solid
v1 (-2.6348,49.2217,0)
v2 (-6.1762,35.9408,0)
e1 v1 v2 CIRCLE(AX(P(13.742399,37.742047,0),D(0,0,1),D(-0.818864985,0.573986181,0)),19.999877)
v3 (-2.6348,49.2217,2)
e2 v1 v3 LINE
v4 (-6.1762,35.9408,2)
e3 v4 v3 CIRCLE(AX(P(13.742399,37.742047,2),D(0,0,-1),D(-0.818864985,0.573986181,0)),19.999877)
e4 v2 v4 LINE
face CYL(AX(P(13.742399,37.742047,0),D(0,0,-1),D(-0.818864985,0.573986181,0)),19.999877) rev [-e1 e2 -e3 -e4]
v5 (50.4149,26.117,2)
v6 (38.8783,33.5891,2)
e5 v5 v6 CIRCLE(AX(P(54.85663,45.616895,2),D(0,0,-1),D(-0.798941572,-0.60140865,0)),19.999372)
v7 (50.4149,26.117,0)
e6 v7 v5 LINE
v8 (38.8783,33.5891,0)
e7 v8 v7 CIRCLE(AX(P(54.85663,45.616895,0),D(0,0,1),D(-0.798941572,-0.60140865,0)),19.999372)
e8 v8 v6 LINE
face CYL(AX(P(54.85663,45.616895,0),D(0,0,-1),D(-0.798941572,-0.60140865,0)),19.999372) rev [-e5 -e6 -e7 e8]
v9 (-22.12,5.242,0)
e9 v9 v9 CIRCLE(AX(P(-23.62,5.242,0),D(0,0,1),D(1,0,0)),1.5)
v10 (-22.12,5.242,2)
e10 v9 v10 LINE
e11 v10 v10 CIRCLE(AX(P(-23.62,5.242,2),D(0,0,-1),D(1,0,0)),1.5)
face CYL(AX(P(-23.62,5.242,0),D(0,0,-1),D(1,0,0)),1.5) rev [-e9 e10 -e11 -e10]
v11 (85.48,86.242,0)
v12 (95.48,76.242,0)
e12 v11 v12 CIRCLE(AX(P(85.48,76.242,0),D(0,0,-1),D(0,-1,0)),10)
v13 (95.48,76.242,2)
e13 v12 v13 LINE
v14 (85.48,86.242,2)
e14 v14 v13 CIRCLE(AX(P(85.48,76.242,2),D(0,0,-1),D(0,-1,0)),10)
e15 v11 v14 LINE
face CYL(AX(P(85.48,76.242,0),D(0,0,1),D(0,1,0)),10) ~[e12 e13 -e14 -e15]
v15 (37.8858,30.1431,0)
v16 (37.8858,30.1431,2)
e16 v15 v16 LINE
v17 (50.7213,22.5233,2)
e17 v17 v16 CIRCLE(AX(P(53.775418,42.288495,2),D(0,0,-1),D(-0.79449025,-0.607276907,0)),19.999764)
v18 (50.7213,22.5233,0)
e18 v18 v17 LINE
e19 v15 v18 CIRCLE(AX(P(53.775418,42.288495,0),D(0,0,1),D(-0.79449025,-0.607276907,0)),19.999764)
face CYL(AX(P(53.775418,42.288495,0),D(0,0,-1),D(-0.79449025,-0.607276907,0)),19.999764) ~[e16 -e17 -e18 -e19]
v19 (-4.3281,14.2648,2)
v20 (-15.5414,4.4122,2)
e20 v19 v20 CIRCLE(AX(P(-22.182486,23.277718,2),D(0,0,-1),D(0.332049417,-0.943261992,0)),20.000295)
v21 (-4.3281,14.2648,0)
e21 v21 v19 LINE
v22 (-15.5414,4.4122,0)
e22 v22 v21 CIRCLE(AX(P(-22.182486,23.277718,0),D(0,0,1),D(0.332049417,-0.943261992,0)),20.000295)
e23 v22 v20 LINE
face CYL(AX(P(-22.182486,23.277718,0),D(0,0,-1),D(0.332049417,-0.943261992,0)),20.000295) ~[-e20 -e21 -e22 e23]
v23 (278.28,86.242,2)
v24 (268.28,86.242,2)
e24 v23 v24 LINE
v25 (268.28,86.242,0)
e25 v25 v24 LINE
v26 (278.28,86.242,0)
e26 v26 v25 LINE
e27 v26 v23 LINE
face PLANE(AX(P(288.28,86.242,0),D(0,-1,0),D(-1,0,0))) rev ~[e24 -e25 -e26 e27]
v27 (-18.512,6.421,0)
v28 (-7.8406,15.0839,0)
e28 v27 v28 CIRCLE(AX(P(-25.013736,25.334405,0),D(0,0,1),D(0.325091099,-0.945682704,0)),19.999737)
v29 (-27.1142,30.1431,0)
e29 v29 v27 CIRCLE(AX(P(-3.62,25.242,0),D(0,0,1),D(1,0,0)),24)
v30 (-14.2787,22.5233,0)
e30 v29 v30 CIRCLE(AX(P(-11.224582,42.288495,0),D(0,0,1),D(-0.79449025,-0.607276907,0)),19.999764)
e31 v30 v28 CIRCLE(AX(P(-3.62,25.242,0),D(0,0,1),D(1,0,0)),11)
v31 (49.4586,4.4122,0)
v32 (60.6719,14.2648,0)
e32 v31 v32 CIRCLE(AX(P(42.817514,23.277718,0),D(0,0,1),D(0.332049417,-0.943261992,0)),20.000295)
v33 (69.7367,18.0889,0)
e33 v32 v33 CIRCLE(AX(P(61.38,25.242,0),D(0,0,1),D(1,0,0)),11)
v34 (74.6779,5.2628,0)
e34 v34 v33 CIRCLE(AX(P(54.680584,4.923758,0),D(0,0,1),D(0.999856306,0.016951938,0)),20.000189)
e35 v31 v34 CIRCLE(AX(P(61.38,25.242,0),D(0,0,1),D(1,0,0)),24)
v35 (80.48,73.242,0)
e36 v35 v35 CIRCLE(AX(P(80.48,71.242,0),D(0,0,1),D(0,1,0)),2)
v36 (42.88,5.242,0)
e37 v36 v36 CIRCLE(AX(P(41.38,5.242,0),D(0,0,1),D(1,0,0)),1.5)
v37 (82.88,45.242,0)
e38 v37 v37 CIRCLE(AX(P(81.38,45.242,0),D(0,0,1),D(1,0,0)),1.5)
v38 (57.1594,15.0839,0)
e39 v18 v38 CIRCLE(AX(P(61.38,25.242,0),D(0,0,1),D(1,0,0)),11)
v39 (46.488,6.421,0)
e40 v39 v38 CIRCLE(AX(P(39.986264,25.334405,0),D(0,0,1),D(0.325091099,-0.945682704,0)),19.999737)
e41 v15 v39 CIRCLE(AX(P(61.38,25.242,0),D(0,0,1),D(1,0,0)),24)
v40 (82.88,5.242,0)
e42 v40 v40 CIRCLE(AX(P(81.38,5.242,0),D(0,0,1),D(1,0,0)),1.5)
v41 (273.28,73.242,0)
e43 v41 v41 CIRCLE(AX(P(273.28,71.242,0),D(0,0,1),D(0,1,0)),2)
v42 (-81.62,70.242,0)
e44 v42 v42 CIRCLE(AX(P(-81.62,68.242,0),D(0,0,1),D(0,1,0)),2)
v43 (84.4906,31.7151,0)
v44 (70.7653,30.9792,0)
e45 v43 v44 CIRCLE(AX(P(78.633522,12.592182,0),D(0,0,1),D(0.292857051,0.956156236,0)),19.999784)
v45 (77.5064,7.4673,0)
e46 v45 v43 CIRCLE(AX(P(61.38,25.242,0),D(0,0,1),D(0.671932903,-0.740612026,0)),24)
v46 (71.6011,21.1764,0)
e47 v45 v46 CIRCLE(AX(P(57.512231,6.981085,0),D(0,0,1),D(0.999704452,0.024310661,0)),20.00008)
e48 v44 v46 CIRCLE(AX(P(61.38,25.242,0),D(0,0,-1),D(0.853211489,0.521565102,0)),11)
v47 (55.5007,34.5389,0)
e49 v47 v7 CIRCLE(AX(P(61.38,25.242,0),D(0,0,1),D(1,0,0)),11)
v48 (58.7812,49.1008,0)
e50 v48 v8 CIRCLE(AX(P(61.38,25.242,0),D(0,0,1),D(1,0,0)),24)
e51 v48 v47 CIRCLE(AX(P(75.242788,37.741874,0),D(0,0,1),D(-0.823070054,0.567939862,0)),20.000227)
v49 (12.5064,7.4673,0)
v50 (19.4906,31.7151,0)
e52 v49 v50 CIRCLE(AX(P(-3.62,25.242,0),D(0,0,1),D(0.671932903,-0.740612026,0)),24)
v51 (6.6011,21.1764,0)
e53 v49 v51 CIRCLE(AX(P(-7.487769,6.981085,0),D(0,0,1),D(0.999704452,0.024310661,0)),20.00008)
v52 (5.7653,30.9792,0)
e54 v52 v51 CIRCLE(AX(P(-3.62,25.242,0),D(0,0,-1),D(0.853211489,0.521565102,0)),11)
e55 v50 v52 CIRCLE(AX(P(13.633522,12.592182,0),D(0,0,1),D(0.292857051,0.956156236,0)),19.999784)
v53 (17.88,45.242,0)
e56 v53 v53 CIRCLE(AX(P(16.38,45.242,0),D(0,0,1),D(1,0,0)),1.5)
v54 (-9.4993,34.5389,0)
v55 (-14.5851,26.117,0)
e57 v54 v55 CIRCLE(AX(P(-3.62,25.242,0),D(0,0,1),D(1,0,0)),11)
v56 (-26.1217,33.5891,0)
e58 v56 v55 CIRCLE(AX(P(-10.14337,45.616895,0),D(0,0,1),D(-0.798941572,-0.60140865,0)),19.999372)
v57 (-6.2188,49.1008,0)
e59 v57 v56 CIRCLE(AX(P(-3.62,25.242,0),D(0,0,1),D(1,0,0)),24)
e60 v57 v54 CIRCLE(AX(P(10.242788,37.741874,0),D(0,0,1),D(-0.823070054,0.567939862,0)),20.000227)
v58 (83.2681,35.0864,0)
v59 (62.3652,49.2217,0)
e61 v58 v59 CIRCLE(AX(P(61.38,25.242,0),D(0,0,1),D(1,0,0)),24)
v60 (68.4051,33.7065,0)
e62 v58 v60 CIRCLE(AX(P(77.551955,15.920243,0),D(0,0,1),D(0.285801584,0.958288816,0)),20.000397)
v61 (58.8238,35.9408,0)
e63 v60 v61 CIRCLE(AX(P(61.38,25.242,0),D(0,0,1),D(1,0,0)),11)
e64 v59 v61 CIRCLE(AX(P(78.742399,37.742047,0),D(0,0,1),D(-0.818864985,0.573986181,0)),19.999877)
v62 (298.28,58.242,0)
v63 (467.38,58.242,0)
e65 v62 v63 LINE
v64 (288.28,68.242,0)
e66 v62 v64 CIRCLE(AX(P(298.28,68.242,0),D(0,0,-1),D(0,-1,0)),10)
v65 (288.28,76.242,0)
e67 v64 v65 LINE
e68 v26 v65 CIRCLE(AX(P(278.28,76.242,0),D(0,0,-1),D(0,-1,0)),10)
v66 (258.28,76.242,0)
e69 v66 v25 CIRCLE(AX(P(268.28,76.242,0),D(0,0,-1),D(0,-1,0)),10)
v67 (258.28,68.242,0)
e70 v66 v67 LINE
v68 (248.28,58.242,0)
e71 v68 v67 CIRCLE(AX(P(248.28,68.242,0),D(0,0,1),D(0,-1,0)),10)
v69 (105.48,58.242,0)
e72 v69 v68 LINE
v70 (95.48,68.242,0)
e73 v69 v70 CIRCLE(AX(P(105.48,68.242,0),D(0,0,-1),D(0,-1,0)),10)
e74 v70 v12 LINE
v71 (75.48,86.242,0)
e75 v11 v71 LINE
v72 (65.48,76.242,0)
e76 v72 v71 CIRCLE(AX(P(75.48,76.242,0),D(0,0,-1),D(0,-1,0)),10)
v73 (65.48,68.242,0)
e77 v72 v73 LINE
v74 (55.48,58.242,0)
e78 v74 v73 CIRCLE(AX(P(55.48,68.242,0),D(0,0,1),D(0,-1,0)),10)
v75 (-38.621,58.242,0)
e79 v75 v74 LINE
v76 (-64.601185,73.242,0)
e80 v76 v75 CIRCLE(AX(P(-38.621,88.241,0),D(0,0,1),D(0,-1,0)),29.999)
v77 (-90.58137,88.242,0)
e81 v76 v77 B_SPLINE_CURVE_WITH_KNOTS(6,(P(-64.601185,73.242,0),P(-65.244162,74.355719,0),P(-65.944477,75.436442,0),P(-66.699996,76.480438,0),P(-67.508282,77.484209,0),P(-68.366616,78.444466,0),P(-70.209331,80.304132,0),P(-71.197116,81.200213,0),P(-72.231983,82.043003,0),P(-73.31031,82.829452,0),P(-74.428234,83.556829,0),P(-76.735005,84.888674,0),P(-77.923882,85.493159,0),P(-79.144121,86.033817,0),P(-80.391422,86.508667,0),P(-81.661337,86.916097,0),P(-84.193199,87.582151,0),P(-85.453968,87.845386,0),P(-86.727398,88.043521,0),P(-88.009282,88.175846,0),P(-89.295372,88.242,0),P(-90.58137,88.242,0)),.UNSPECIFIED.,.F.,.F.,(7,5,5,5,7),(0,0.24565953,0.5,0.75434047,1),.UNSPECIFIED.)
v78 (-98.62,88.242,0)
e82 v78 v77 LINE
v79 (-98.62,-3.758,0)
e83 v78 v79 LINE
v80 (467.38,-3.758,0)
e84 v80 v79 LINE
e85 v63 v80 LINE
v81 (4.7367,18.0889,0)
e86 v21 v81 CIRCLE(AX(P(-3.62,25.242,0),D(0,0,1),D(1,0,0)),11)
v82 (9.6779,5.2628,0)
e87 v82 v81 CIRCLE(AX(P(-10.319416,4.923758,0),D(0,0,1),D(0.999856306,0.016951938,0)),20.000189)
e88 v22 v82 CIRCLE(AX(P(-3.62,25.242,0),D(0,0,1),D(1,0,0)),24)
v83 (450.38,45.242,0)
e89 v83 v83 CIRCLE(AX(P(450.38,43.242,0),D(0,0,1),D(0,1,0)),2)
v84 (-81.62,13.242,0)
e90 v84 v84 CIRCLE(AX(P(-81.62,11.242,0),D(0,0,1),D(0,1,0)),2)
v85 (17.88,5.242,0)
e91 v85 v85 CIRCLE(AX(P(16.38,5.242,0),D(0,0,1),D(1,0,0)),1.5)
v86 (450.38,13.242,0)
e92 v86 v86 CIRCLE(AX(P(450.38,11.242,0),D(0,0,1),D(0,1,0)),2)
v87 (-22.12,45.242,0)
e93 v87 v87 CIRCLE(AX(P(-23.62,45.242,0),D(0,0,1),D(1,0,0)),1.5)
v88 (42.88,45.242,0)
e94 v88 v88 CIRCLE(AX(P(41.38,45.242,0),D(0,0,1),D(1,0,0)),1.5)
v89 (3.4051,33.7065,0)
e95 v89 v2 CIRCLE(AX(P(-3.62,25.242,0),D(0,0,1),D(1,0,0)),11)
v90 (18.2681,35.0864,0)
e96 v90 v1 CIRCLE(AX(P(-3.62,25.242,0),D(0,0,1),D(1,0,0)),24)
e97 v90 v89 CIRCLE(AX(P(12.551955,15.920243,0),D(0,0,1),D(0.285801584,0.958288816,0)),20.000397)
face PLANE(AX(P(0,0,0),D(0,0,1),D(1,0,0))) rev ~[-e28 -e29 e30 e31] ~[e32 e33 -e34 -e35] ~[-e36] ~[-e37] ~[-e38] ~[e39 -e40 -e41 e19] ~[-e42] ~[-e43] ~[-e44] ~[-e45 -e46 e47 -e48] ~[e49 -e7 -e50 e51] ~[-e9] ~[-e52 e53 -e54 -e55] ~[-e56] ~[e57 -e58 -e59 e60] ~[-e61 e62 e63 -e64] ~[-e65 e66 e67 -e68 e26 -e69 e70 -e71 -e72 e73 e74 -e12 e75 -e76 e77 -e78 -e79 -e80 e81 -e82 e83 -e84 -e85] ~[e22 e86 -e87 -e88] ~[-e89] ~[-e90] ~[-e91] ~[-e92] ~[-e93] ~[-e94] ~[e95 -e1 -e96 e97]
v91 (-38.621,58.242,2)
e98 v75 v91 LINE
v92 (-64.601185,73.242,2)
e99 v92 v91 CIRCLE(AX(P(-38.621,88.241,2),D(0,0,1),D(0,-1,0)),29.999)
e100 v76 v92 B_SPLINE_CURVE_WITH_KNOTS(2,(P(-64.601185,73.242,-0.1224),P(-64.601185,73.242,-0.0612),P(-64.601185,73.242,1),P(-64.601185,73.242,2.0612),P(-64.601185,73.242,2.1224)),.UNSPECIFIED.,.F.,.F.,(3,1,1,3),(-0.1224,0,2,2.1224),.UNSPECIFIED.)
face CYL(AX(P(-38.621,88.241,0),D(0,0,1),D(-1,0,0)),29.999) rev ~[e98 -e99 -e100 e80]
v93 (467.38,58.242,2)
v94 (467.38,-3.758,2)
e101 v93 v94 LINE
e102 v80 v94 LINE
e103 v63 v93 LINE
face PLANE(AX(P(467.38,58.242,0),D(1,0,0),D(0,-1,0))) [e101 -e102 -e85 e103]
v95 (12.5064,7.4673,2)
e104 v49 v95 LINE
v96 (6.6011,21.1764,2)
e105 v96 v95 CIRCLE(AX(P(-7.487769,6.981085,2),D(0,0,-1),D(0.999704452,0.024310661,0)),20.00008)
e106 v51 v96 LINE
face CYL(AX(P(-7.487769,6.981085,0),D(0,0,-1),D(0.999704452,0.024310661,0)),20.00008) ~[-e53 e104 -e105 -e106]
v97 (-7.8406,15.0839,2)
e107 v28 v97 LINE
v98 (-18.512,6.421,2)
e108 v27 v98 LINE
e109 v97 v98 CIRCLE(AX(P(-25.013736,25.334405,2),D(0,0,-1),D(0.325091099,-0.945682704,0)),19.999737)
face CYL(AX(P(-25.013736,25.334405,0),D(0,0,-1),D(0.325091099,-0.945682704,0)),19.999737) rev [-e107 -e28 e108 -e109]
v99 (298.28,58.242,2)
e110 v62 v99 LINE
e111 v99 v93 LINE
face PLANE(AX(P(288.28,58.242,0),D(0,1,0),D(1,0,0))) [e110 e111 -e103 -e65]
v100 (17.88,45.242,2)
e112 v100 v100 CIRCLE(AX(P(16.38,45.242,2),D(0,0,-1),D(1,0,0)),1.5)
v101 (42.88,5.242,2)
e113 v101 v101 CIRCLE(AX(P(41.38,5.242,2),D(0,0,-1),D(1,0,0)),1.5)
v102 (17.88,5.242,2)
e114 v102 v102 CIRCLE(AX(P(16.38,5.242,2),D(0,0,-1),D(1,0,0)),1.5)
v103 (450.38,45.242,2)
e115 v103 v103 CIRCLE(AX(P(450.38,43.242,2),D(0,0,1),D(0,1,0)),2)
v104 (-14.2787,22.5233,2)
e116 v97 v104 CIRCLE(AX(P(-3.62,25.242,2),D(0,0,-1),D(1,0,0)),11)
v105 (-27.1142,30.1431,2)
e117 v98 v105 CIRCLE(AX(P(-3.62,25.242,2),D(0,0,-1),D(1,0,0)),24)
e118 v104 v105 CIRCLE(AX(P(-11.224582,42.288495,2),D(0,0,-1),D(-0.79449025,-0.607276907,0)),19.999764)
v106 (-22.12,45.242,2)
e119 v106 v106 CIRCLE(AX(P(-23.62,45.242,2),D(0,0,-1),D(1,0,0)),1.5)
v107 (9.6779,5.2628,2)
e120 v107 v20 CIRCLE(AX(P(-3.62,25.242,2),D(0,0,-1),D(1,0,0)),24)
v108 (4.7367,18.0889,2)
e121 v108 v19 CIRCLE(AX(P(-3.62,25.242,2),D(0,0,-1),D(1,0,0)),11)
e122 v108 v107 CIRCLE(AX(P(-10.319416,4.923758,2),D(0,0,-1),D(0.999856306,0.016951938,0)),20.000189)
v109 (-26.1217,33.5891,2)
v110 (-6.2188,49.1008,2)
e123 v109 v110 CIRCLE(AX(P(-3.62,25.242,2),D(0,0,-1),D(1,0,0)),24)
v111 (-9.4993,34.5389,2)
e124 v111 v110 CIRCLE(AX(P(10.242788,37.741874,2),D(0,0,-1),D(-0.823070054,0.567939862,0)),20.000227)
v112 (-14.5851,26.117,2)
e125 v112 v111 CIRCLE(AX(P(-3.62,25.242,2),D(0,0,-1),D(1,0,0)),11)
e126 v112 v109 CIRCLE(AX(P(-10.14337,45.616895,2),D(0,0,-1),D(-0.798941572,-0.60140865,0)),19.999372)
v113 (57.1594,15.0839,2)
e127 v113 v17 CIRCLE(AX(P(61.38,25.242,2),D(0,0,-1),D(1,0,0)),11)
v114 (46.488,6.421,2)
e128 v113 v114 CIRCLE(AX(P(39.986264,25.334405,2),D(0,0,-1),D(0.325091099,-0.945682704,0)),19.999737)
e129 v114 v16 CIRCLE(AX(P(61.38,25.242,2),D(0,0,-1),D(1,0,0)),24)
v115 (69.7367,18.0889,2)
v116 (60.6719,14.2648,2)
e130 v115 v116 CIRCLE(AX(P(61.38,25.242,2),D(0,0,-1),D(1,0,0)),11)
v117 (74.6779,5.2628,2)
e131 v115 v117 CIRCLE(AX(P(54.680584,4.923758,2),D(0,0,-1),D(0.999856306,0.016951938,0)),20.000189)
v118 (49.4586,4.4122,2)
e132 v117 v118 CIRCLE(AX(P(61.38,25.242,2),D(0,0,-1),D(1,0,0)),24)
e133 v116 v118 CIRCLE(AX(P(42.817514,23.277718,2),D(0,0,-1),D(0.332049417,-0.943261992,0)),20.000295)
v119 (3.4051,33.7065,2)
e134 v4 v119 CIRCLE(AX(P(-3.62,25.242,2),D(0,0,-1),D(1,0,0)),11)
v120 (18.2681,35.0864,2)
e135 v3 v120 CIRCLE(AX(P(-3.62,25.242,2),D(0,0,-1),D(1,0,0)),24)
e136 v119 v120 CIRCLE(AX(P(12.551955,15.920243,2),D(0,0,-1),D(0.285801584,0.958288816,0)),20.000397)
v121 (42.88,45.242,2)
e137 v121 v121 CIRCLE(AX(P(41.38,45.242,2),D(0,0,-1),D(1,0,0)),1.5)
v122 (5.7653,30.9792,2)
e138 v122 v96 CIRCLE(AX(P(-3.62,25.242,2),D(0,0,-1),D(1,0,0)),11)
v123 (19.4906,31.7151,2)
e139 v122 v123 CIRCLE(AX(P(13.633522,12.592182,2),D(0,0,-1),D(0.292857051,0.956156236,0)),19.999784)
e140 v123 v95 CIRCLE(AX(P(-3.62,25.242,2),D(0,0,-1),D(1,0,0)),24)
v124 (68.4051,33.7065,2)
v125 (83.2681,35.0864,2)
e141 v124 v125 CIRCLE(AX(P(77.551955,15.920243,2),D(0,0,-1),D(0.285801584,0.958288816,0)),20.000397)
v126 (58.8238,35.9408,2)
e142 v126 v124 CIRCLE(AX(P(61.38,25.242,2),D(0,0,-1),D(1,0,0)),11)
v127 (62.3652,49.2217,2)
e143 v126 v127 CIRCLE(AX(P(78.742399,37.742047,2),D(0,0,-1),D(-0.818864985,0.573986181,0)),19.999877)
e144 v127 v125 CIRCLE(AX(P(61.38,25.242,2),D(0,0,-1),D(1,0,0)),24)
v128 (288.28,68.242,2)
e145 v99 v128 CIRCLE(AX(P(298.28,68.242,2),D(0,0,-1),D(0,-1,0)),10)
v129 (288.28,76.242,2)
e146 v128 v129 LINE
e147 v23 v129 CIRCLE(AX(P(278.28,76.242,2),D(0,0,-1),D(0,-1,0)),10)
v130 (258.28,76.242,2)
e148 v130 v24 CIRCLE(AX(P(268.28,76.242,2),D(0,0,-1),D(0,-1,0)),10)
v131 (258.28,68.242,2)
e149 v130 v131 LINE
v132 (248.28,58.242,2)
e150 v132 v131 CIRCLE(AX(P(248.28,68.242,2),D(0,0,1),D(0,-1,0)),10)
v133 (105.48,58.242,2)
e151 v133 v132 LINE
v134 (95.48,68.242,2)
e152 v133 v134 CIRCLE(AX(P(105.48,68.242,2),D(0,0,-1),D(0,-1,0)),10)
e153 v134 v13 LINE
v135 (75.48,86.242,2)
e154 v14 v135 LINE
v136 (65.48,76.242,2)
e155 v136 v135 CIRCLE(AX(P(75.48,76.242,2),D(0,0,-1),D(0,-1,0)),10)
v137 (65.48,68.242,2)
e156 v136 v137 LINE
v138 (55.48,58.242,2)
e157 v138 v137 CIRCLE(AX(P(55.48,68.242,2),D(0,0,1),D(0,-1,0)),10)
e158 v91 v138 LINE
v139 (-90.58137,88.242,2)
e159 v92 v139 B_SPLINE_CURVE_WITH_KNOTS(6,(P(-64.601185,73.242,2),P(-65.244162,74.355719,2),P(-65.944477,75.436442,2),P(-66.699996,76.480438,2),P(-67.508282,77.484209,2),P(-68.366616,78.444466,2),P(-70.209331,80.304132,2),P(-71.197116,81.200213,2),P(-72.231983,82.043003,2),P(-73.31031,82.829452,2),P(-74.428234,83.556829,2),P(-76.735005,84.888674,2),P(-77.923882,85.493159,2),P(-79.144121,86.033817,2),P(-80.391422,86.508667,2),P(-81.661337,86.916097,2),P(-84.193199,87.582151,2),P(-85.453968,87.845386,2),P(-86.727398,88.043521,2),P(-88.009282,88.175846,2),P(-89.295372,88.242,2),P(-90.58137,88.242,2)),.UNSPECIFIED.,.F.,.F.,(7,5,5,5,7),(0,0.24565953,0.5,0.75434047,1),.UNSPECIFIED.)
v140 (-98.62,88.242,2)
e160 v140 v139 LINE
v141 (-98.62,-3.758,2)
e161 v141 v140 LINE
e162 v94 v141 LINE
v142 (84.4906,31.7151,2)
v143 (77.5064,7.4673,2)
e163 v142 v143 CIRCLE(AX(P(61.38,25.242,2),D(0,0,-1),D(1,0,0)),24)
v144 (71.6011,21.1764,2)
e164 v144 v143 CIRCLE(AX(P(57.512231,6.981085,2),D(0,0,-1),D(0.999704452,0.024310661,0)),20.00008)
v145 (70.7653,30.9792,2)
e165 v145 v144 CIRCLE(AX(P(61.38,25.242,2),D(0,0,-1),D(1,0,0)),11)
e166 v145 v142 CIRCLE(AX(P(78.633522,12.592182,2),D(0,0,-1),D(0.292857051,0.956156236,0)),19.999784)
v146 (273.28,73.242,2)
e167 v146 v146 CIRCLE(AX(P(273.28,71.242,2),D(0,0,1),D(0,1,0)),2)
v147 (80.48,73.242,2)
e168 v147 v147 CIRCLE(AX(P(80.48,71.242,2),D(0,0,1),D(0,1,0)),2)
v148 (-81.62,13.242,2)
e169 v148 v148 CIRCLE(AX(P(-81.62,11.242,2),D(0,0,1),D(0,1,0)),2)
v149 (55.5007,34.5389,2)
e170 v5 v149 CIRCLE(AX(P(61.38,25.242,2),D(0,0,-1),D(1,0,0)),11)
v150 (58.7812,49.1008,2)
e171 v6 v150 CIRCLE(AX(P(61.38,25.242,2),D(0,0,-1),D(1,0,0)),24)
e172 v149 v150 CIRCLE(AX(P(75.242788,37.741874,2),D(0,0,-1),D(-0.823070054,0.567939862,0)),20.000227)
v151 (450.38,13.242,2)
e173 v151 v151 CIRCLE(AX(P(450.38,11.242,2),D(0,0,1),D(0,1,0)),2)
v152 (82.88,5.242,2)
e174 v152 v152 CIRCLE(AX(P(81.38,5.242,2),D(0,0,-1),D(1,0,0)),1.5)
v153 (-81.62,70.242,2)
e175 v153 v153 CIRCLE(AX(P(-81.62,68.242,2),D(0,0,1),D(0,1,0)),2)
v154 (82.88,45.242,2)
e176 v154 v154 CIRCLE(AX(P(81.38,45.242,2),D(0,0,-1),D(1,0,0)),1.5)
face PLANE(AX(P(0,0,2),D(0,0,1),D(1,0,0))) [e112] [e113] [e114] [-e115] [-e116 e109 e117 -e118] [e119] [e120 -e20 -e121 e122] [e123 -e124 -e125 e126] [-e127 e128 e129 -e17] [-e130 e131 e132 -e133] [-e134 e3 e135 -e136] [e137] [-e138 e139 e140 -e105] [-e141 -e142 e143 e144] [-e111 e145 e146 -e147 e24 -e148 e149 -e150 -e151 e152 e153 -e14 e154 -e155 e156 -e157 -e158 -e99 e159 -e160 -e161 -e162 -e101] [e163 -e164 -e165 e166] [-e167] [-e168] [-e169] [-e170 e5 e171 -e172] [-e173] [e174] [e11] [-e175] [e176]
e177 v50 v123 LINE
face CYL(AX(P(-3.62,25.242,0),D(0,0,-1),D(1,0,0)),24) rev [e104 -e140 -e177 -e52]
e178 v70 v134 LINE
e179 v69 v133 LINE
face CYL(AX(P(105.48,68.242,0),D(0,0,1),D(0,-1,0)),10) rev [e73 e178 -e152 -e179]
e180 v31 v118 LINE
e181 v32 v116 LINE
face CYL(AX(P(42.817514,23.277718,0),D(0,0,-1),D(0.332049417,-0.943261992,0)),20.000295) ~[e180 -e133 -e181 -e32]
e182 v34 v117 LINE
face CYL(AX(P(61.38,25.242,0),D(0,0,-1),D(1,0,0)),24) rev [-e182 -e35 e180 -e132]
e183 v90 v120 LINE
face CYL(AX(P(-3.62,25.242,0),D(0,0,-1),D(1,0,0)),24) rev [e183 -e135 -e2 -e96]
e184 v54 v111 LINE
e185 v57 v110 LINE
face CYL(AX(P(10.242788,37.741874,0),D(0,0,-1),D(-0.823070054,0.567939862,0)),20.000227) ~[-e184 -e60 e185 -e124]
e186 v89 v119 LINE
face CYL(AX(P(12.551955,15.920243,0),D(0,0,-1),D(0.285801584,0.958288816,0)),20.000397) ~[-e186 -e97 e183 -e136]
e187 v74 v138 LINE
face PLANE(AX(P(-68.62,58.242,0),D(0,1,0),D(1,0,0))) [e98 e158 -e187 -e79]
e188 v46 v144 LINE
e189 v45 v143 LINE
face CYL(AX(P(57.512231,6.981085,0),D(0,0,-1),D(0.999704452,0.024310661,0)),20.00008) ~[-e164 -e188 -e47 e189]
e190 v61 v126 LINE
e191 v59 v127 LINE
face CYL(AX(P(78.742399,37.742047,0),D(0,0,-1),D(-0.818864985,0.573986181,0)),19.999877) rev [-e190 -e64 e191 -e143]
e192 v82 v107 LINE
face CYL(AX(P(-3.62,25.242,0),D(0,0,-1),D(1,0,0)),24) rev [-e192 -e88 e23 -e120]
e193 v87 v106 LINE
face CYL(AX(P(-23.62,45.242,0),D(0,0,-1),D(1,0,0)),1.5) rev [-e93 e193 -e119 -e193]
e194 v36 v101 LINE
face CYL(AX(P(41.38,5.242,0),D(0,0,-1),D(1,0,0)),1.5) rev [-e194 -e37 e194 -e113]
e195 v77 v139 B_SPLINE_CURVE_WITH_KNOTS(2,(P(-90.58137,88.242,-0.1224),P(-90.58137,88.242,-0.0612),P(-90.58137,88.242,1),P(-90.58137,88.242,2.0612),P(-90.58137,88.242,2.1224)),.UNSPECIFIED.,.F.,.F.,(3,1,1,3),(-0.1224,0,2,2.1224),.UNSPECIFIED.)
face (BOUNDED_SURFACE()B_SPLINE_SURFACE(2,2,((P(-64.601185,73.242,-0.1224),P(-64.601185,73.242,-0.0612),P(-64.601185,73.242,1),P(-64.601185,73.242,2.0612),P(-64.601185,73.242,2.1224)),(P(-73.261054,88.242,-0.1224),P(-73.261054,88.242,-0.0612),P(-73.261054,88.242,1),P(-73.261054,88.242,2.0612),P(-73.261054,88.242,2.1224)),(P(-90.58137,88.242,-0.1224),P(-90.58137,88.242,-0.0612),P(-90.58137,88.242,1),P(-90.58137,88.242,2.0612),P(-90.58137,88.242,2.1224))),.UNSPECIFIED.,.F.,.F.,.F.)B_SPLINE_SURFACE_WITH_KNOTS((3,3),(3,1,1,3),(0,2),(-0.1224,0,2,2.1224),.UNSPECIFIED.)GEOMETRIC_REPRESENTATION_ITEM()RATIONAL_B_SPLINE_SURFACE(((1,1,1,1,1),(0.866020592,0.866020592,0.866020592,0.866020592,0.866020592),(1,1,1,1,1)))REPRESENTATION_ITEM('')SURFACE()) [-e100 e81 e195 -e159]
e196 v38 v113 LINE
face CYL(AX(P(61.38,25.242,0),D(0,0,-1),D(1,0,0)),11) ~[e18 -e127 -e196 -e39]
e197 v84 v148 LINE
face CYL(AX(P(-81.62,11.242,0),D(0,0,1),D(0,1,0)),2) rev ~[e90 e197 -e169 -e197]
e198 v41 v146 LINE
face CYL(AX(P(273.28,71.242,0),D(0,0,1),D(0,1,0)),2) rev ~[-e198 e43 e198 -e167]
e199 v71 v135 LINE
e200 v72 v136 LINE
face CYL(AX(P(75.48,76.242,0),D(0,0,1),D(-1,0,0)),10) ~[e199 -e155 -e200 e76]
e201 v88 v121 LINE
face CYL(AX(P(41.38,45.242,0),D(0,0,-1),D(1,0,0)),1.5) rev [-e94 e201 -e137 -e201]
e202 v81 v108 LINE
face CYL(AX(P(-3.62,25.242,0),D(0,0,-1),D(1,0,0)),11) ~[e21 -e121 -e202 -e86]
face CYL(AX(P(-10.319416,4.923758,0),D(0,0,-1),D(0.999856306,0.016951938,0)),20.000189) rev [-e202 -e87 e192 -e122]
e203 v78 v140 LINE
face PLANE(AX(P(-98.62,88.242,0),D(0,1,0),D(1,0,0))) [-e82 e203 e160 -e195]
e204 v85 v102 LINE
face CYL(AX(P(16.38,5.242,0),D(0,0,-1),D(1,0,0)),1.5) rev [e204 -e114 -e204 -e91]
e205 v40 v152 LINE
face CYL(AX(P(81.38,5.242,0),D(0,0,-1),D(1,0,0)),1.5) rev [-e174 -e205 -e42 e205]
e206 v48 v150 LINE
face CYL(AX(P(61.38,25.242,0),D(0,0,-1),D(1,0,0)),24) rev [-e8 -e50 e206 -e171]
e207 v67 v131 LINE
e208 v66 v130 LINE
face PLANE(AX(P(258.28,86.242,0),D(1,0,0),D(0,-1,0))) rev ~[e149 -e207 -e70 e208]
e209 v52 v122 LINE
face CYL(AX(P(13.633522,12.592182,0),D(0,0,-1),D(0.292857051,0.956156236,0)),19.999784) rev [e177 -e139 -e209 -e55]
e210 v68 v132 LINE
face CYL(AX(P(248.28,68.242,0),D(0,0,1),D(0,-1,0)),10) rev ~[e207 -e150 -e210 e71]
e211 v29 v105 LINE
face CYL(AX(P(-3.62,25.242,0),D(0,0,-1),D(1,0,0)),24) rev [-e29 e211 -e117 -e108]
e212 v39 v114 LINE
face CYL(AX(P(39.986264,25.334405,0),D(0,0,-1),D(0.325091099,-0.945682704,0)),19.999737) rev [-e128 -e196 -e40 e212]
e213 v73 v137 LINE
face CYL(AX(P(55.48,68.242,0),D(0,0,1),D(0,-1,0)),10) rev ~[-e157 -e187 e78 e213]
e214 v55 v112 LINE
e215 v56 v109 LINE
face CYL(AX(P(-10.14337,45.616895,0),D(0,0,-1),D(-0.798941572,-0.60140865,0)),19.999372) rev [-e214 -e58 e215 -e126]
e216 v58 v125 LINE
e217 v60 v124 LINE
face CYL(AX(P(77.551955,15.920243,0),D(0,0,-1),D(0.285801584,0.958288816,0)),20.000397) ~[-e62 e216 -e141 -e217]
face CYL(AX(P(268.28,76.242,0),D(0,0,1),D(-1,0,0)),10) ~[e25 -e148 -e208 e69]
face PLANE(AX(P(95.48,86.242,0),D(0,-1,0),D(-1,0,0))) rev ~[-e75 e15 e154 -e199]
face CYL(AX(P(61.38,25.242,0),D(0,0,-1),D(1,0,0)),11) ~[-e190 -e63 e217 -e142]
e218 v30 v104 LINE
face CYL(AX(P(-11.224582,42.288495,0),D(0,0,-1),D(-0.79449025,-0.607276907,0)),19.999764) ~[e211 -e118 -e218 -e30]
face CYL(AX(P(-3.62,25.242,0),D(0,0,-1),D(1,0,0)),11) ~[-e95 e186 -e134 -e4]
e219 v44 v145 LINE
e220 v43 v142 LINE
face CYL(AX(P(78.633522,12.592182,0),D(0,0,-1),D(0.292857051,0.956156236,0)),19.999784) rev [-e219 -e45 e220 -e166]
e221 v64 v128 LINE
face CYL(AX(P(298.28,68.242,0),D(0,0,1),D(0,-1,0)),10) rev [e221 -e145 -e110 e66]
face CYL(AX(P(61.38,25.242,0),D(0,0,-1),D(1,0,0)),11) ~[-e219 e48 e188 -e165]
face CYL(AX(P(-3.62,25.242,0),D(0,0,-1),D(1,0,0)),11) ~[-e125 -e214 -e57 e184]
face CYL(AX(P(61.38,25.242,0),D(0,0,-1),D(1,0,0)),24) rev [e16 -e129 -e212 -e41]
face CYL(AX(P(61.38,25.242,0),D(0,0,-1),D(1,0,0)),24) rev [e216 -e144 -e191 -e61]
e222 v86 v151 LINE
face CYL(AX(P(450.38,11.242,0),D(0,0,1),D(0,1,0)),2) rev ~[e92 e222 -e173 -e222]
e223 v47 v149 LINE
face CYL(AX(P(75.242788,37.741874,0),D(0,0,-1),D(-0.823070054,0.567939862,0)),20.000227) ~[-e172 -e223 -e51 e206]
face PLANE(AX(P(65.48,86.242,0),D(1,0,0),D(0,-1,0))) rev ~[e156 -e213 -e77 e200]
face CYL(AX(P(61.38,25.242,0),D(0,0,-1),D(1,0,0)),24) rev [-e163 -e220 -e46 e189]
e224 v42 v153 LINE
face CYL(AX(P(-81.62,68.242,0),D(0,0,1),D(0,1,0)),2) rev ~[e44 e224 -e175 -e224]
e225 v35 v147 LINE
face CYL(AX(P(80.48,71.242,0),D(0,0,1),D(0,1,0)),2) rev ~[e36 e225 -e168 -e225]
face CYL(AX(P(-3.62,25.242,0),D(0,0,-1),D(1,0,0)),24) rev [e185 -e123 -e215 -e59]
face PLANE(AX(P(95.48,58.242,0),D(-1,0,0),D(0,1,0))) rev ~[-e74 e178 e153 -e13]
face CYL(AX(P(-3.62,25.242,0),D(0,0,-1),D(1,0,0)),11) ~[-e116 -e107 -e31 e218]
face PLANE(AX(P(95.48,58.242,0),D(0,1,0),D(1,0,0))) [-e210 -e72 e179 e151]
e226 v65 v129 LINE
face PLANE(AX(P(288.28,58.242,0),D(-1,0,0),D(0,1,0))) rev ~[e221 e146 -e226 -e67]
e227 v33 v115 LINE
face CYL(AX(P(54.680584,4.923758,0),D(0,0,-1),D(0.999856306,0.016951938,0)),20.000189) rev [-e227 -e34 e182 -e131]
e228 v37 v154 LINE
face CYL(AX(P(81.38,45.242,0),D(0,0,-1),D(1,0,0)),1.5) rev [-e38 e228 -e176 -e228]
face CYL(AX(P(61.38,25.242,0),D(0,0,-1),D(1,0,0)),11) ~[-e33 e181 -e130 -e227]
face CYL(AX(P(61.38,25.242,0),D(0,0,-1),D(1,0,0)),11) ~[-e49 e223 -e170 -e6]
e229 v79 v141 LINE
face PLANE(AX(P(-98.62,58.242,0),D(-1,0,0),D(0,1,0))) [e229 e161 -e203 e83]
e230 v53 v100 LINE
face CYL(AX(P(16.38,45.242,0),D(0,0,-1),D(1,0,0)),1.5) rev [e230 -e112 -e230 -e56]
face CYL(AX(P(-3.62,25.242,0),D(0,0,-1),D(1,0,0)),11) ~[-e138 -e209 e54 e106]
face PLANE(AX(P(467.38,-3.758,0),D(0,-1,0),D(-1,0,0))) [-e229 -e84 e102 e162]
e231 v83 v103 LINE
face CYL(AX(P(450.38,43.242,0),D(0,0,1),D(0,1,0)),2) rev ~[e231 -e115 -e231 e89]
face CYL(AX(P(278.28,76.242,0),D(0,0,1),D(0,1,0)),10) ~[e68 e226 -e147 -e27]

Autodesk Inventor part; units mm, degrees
ref_plane "YZ Plane" through (0, 0, 0) normal (1, 0, 0) x (0, 1, 0)
ref_plane "XZ Plane" through (0, 0, 0) normal (0, 1, 0) x (-1, 0, 0)
ref_plane "XY Plane" through (0, 0, 0) normal (0, 0, 1) x (1, 0, 0)
sketch "Szkic1" plane through (0, 0, 0) normal (0, 0, 1) x (1, 0, 0)
  line L0 (-98.62, 58.242) -> (467.38, 58.242)
  line L1 (467.38, 58.242) -> (467.38, -3.758)
  line L2 (467.38, -3.758) -> (-98.62, -3.758)
  line L3 (-98.62, -3.758) -> (-98.62, 58.242)
  line L4 (65.48, 58.242) -> (95.48, 58.242)
  line L5 (95.48, 58.242) -> (95.48, 86.242)
  line L6 (95.48, 86.242) -> (65.48, 86.242)
  line L7 (65.48, 86.242) -> (65.48, 58.242)
  line L8 (258.28, 58.242) -> (288.28, 58.242)
  line L9 (288.28, 58.242) -> (288.28, 86.242)
  line L10 (288.28, 86.242) -> (258.28, 86.242)
  line L11 (258.28, 86.242) -> (258.28, 58.242)
  line L12 (-98.62, 58.242) -> (-98.62, 88.242)
  line L13 (-98.62, 88.242) -> (-68.62, 88.242)
  line L14 (-68.62, 88.242) -> (-68.62, 58.242)
  line L15 (-28.62, 50.242) -> (21.38, 50.242)
  line L16 (21.38, 50.242) -> (21.38, 0.242)
  line L17 (21.38, 0.242) -> (-28.62, 0.242)
  line L18 (-28.62, 0.242) -> (-28.62, 50.242)
  circle A0 centre (-23.62, 45.242) radius 1.5
  circle A1 centre (16.38, 45.242) radius 1.5
  circle A2 centre (-23.62, 5.242) radius 1.5
  circle A3 centre (16.38, 5.242) radius 1.5
  circle A4 centre (-3.62, 25.242) radius 24
  circle A5 centre (-3.62, 25.242) radius 11
  arc A6 (9.6779, 5.2628) -> (4.7367, 18.0889) centre (-10.3192, 4.9238) ccw
  arc A7 (12.5064, 7.4673) -> (6.6011, 21.1764) centre (-7.4877, 6.9811) ccw
  arc A8 (19.4906, 31.7151) -> (5.7653, 30.9792) centre (13.6335, 12.592) ccw
  arc A9 (18.2681, 35.0864) -> (3.4051, 33.7065) centre (12.552, 15.9207) ccw
  arc A10 (-2.6348, 49.2217) -> (-6.1762, 35.9408) centre (13.7425, 37.742) ccw
  arc A11 (-6.2188, 49.1008) -> (-9.4993, 34.5389) centre (10.2425, 37.742) ccw
  arc A12 (-26.1217, 33.5891) -> (-14.5851, 26.117) centre (-10.1429, 45.6174) ccw
  arc A13 (-27.1142, 30.1431) -> (-14.2787, 22.5233) centre (-11.2244, 42.2887) ccw
  arc A14 (-18.512, 6.421) -> (-7.8406, 15.0839) centre (-25.0139, 25.3347) ccw
  arc A15 (-15.5414, 4.4122) -> (-4.3281, 14.2648) centre (-22.1823, 23.2774) ccw
  line L19 (36.38, 50.242) -> (86.38, 50.242)
  line L20 (86.38, 50.242) -> (86.38, 0.242)
  line L21 (86.38, 0.242) -> (36.38, 0.242)
  line L22 (36.38, 0.242) -> (36.38, 50.242)
  circle A16 centre (41.38, 45.242) radius 1.5
  circle A17 centre (81.38, 45.242) radius 1.5
  circle A18 centre (41.38, 5.242) radius 1.5
  circle A19 centre (81.38, 5.242) radius 1.5
  circle A20 centre (61.38, 25.242) radius 24
  circle A21 centre (61.38, 25.242) radius 11
  arc A22 (74.6779, 5.2628) -> (69.7367, 18.0889) centre (54.6808, 4.9238) ccw
  arc A23 (77.5064, 7.4673) -> (71.6011, 21.1764) centre (57.5123, 6.9811) ccw
  arc A24 (84.4906, 31.7151) -> (70.7653, 30.9792) centre (78.6335, 12.592) ccw
  arc A25 (83.2681, 35.0864) -> (68.4051, 33.7065) centre (77.552, 15.9207) ccw
  arc A26 (62.3652, 49.2217) -> (58.8238, 35.9408) centre (78.7425, 37.742) ccw
  arc A27 (58.7812, 49.1008) -> (55.5007, 34.5389) centre (75.2425, 37.742) ccw
  arc A28 (38.8783, 33.5891) -> (50.4149, 26.117) centre (54.8571, 45.6174) ccw
  arc A29 (37.8858, 30.1431) -> (50.7213, 22.5233) centre (53.7756, 42.2887) ccw
  arc A30 (46.488, 6.421) -> (57.1594, 15.0839) centre (39.9861, 25.3347) ccw
  arc A31 (49.4586, 4.4122) -> (60.6719, 14.2648) centre (42.8177, 23.2774) ccw
  point P0 (0, 0)
  point P1 (80.48, 71.242)
  point P2 (273.28, 71.242)
  point P3 (-81.62, 68.242)
  point P4 (450.38, 43.242)
  point P5 (-81.62, 11.242)
  point P6 (450.38, 11.242)
  dimension "d0" = 566
  dimension "d1" = 62
  dimension "d2" = 30
  dimension "d3" = 28
  dimension "d4" = 30
  dimension "d5" = 28
  dimension "d6" = 164.1
  dimension "d7" = 356.9
  dimension "d11" = 17
  dimension "d12" = 17
  dimension "d13" = 15
  dimension "d14" = 15
  dimension "d15" = 15
  dimension "d16" = 15
  dimension "d18" = 15
  dimension "d26" = 17
  dimension "d27" = 17
  dimension "d28" = 15
  dimension "d29" = 15
  dimension "d30" = 30
  dimension "d31" = 30
  dimension "d36" = 20
  dimension "d38" = 50
  dimension "d39" = 50
  dimension "d42" = 8
  dimension "d44" = 70
  dimension "d46" = 5
  dimension "d47" = 5
  dimension "d48" = 5
  dimension "d49" = 5
  dimension "d50" = 5
  dimension "d51" = 5
  dimension "d52" = 5
  dimension "d53" = 5
  dimension "d54" = 3
  dimension "d55" = 3
  dimension "d56" = 3
  dimension "d92" = 25
  dimension "d98" = 25
  dimension "d99" = 50
  dimension "d100" = 50
  dimension "d101" = 5
  dimension "d102" = 5
  dimension "d103" = 5
  dimension "d104" = 5
  dimension "d105" = 5
  dimension "d106" = 5
  dimension "d107" = 5
  dimension "d108" = 5
  dimension "d109" = 3
  dimension "d110" = 3
  dimension "d111" = 3
  dimension "d112" = 25
  dimension "d113" = 25
  dimension "d114" = 15
  dimension "d115" = 8
extrude "Wyciągnięcie proste1" add sketch "Szkic1" along normal blind 2 contours L12 L13 L14 L0 | L0 L1 L2 L3 | L7 L6 L5 L0 | L11 L10 L9 L0 | L15 L16 L17 L18 | A0 | A1 | A2 | A3 | A4 A7 A5 A8 | A8 A5 A9 A4 | A4 A6 A5 A7 | A9 A5 A10 A4 | A5 | A4 A15 A5 A6 | A10 A5 A11 A4 | A4 A14 A5 A15 | A11 A5 A12 A4 | A4 A13 A5 A14 | A12 A5 A13 A4 | L19 L20 L21 L22 | A16 | A17 | A18 | A19 | A20 A23 A21 A24 | A24 A21 A25 A20 | A20 A22 A21 A23 | A25 A21 A26 A20 | A21 | A20 A31 A21 A22 | A26 A21 A27 A20 | A20 A30 A21 A31 | A27 A21 A28 A20 | A20 A29 A21 A30 | A28 A21 A29 A20
fillet "Zaokrąglenie1" radius 10 8 edges at (95.48, 86.242, 1) (95.48, 58.242, 1) (65.48, 58.242, 1) (65.48, 86.242, 1) (258.28, 58.242, 1) (258.28, 86.242, 1) (288.28, 86.242, 1) (288.28, 58.242, 1)
hole "Otwór1" at (80.48, 71.242, 0) at (273.28, 71.242, 0) at (-81.62, 68.242, 0) at (450.38, 43.242, 0) at (-81.62, 11.242, 0) at (450.38, 11.242, 0) direction (0, 0, 1) diameter 4 end through all
fillet "Zaokrąglenie3" radius 30 2 edges at (-68.62, 58.242, 1) (-68.62, 88.242, 1)
extrude "Wyciągnięcie proste3" cut sketch "Szkic1" along normal through all contours A0 | A1 | A2 | A3 | A4 A7 A5 A8 | A9 A5 A10 A4 | A4 A15 A5 A6 | A11 A5 A12 A4 | A4 A13 A5 A14 | A16 | A17 | A18 | A19 | A20 A23 A21 A24 | A25 A21 A26 A20 | A20 A31 A21 A22 | A27 A21 A28 A20 | A20 A29 A21 A30
equation "\"d12\" = d11"
equation "\"d15\" = 0.5 * d2"
equation "\"d16\" = 0.5 * d4"
equation "\"d18\" = d17"
equation "\"d28\" = d17"
equation "\"d29\" = d18"
equation "\"d46\" = d47"
equation "\"d48\" = d47"
equation "\"d49\" = d46"
equation "\"d50\" = d46"
equation "\"d51\" = d46"
equation "\"d52\" = d46"
equation "\"d53\" = d46"
equation "\"d17\" = 15"
properties part number "LC_ALU_2mm_Left_Plate"
